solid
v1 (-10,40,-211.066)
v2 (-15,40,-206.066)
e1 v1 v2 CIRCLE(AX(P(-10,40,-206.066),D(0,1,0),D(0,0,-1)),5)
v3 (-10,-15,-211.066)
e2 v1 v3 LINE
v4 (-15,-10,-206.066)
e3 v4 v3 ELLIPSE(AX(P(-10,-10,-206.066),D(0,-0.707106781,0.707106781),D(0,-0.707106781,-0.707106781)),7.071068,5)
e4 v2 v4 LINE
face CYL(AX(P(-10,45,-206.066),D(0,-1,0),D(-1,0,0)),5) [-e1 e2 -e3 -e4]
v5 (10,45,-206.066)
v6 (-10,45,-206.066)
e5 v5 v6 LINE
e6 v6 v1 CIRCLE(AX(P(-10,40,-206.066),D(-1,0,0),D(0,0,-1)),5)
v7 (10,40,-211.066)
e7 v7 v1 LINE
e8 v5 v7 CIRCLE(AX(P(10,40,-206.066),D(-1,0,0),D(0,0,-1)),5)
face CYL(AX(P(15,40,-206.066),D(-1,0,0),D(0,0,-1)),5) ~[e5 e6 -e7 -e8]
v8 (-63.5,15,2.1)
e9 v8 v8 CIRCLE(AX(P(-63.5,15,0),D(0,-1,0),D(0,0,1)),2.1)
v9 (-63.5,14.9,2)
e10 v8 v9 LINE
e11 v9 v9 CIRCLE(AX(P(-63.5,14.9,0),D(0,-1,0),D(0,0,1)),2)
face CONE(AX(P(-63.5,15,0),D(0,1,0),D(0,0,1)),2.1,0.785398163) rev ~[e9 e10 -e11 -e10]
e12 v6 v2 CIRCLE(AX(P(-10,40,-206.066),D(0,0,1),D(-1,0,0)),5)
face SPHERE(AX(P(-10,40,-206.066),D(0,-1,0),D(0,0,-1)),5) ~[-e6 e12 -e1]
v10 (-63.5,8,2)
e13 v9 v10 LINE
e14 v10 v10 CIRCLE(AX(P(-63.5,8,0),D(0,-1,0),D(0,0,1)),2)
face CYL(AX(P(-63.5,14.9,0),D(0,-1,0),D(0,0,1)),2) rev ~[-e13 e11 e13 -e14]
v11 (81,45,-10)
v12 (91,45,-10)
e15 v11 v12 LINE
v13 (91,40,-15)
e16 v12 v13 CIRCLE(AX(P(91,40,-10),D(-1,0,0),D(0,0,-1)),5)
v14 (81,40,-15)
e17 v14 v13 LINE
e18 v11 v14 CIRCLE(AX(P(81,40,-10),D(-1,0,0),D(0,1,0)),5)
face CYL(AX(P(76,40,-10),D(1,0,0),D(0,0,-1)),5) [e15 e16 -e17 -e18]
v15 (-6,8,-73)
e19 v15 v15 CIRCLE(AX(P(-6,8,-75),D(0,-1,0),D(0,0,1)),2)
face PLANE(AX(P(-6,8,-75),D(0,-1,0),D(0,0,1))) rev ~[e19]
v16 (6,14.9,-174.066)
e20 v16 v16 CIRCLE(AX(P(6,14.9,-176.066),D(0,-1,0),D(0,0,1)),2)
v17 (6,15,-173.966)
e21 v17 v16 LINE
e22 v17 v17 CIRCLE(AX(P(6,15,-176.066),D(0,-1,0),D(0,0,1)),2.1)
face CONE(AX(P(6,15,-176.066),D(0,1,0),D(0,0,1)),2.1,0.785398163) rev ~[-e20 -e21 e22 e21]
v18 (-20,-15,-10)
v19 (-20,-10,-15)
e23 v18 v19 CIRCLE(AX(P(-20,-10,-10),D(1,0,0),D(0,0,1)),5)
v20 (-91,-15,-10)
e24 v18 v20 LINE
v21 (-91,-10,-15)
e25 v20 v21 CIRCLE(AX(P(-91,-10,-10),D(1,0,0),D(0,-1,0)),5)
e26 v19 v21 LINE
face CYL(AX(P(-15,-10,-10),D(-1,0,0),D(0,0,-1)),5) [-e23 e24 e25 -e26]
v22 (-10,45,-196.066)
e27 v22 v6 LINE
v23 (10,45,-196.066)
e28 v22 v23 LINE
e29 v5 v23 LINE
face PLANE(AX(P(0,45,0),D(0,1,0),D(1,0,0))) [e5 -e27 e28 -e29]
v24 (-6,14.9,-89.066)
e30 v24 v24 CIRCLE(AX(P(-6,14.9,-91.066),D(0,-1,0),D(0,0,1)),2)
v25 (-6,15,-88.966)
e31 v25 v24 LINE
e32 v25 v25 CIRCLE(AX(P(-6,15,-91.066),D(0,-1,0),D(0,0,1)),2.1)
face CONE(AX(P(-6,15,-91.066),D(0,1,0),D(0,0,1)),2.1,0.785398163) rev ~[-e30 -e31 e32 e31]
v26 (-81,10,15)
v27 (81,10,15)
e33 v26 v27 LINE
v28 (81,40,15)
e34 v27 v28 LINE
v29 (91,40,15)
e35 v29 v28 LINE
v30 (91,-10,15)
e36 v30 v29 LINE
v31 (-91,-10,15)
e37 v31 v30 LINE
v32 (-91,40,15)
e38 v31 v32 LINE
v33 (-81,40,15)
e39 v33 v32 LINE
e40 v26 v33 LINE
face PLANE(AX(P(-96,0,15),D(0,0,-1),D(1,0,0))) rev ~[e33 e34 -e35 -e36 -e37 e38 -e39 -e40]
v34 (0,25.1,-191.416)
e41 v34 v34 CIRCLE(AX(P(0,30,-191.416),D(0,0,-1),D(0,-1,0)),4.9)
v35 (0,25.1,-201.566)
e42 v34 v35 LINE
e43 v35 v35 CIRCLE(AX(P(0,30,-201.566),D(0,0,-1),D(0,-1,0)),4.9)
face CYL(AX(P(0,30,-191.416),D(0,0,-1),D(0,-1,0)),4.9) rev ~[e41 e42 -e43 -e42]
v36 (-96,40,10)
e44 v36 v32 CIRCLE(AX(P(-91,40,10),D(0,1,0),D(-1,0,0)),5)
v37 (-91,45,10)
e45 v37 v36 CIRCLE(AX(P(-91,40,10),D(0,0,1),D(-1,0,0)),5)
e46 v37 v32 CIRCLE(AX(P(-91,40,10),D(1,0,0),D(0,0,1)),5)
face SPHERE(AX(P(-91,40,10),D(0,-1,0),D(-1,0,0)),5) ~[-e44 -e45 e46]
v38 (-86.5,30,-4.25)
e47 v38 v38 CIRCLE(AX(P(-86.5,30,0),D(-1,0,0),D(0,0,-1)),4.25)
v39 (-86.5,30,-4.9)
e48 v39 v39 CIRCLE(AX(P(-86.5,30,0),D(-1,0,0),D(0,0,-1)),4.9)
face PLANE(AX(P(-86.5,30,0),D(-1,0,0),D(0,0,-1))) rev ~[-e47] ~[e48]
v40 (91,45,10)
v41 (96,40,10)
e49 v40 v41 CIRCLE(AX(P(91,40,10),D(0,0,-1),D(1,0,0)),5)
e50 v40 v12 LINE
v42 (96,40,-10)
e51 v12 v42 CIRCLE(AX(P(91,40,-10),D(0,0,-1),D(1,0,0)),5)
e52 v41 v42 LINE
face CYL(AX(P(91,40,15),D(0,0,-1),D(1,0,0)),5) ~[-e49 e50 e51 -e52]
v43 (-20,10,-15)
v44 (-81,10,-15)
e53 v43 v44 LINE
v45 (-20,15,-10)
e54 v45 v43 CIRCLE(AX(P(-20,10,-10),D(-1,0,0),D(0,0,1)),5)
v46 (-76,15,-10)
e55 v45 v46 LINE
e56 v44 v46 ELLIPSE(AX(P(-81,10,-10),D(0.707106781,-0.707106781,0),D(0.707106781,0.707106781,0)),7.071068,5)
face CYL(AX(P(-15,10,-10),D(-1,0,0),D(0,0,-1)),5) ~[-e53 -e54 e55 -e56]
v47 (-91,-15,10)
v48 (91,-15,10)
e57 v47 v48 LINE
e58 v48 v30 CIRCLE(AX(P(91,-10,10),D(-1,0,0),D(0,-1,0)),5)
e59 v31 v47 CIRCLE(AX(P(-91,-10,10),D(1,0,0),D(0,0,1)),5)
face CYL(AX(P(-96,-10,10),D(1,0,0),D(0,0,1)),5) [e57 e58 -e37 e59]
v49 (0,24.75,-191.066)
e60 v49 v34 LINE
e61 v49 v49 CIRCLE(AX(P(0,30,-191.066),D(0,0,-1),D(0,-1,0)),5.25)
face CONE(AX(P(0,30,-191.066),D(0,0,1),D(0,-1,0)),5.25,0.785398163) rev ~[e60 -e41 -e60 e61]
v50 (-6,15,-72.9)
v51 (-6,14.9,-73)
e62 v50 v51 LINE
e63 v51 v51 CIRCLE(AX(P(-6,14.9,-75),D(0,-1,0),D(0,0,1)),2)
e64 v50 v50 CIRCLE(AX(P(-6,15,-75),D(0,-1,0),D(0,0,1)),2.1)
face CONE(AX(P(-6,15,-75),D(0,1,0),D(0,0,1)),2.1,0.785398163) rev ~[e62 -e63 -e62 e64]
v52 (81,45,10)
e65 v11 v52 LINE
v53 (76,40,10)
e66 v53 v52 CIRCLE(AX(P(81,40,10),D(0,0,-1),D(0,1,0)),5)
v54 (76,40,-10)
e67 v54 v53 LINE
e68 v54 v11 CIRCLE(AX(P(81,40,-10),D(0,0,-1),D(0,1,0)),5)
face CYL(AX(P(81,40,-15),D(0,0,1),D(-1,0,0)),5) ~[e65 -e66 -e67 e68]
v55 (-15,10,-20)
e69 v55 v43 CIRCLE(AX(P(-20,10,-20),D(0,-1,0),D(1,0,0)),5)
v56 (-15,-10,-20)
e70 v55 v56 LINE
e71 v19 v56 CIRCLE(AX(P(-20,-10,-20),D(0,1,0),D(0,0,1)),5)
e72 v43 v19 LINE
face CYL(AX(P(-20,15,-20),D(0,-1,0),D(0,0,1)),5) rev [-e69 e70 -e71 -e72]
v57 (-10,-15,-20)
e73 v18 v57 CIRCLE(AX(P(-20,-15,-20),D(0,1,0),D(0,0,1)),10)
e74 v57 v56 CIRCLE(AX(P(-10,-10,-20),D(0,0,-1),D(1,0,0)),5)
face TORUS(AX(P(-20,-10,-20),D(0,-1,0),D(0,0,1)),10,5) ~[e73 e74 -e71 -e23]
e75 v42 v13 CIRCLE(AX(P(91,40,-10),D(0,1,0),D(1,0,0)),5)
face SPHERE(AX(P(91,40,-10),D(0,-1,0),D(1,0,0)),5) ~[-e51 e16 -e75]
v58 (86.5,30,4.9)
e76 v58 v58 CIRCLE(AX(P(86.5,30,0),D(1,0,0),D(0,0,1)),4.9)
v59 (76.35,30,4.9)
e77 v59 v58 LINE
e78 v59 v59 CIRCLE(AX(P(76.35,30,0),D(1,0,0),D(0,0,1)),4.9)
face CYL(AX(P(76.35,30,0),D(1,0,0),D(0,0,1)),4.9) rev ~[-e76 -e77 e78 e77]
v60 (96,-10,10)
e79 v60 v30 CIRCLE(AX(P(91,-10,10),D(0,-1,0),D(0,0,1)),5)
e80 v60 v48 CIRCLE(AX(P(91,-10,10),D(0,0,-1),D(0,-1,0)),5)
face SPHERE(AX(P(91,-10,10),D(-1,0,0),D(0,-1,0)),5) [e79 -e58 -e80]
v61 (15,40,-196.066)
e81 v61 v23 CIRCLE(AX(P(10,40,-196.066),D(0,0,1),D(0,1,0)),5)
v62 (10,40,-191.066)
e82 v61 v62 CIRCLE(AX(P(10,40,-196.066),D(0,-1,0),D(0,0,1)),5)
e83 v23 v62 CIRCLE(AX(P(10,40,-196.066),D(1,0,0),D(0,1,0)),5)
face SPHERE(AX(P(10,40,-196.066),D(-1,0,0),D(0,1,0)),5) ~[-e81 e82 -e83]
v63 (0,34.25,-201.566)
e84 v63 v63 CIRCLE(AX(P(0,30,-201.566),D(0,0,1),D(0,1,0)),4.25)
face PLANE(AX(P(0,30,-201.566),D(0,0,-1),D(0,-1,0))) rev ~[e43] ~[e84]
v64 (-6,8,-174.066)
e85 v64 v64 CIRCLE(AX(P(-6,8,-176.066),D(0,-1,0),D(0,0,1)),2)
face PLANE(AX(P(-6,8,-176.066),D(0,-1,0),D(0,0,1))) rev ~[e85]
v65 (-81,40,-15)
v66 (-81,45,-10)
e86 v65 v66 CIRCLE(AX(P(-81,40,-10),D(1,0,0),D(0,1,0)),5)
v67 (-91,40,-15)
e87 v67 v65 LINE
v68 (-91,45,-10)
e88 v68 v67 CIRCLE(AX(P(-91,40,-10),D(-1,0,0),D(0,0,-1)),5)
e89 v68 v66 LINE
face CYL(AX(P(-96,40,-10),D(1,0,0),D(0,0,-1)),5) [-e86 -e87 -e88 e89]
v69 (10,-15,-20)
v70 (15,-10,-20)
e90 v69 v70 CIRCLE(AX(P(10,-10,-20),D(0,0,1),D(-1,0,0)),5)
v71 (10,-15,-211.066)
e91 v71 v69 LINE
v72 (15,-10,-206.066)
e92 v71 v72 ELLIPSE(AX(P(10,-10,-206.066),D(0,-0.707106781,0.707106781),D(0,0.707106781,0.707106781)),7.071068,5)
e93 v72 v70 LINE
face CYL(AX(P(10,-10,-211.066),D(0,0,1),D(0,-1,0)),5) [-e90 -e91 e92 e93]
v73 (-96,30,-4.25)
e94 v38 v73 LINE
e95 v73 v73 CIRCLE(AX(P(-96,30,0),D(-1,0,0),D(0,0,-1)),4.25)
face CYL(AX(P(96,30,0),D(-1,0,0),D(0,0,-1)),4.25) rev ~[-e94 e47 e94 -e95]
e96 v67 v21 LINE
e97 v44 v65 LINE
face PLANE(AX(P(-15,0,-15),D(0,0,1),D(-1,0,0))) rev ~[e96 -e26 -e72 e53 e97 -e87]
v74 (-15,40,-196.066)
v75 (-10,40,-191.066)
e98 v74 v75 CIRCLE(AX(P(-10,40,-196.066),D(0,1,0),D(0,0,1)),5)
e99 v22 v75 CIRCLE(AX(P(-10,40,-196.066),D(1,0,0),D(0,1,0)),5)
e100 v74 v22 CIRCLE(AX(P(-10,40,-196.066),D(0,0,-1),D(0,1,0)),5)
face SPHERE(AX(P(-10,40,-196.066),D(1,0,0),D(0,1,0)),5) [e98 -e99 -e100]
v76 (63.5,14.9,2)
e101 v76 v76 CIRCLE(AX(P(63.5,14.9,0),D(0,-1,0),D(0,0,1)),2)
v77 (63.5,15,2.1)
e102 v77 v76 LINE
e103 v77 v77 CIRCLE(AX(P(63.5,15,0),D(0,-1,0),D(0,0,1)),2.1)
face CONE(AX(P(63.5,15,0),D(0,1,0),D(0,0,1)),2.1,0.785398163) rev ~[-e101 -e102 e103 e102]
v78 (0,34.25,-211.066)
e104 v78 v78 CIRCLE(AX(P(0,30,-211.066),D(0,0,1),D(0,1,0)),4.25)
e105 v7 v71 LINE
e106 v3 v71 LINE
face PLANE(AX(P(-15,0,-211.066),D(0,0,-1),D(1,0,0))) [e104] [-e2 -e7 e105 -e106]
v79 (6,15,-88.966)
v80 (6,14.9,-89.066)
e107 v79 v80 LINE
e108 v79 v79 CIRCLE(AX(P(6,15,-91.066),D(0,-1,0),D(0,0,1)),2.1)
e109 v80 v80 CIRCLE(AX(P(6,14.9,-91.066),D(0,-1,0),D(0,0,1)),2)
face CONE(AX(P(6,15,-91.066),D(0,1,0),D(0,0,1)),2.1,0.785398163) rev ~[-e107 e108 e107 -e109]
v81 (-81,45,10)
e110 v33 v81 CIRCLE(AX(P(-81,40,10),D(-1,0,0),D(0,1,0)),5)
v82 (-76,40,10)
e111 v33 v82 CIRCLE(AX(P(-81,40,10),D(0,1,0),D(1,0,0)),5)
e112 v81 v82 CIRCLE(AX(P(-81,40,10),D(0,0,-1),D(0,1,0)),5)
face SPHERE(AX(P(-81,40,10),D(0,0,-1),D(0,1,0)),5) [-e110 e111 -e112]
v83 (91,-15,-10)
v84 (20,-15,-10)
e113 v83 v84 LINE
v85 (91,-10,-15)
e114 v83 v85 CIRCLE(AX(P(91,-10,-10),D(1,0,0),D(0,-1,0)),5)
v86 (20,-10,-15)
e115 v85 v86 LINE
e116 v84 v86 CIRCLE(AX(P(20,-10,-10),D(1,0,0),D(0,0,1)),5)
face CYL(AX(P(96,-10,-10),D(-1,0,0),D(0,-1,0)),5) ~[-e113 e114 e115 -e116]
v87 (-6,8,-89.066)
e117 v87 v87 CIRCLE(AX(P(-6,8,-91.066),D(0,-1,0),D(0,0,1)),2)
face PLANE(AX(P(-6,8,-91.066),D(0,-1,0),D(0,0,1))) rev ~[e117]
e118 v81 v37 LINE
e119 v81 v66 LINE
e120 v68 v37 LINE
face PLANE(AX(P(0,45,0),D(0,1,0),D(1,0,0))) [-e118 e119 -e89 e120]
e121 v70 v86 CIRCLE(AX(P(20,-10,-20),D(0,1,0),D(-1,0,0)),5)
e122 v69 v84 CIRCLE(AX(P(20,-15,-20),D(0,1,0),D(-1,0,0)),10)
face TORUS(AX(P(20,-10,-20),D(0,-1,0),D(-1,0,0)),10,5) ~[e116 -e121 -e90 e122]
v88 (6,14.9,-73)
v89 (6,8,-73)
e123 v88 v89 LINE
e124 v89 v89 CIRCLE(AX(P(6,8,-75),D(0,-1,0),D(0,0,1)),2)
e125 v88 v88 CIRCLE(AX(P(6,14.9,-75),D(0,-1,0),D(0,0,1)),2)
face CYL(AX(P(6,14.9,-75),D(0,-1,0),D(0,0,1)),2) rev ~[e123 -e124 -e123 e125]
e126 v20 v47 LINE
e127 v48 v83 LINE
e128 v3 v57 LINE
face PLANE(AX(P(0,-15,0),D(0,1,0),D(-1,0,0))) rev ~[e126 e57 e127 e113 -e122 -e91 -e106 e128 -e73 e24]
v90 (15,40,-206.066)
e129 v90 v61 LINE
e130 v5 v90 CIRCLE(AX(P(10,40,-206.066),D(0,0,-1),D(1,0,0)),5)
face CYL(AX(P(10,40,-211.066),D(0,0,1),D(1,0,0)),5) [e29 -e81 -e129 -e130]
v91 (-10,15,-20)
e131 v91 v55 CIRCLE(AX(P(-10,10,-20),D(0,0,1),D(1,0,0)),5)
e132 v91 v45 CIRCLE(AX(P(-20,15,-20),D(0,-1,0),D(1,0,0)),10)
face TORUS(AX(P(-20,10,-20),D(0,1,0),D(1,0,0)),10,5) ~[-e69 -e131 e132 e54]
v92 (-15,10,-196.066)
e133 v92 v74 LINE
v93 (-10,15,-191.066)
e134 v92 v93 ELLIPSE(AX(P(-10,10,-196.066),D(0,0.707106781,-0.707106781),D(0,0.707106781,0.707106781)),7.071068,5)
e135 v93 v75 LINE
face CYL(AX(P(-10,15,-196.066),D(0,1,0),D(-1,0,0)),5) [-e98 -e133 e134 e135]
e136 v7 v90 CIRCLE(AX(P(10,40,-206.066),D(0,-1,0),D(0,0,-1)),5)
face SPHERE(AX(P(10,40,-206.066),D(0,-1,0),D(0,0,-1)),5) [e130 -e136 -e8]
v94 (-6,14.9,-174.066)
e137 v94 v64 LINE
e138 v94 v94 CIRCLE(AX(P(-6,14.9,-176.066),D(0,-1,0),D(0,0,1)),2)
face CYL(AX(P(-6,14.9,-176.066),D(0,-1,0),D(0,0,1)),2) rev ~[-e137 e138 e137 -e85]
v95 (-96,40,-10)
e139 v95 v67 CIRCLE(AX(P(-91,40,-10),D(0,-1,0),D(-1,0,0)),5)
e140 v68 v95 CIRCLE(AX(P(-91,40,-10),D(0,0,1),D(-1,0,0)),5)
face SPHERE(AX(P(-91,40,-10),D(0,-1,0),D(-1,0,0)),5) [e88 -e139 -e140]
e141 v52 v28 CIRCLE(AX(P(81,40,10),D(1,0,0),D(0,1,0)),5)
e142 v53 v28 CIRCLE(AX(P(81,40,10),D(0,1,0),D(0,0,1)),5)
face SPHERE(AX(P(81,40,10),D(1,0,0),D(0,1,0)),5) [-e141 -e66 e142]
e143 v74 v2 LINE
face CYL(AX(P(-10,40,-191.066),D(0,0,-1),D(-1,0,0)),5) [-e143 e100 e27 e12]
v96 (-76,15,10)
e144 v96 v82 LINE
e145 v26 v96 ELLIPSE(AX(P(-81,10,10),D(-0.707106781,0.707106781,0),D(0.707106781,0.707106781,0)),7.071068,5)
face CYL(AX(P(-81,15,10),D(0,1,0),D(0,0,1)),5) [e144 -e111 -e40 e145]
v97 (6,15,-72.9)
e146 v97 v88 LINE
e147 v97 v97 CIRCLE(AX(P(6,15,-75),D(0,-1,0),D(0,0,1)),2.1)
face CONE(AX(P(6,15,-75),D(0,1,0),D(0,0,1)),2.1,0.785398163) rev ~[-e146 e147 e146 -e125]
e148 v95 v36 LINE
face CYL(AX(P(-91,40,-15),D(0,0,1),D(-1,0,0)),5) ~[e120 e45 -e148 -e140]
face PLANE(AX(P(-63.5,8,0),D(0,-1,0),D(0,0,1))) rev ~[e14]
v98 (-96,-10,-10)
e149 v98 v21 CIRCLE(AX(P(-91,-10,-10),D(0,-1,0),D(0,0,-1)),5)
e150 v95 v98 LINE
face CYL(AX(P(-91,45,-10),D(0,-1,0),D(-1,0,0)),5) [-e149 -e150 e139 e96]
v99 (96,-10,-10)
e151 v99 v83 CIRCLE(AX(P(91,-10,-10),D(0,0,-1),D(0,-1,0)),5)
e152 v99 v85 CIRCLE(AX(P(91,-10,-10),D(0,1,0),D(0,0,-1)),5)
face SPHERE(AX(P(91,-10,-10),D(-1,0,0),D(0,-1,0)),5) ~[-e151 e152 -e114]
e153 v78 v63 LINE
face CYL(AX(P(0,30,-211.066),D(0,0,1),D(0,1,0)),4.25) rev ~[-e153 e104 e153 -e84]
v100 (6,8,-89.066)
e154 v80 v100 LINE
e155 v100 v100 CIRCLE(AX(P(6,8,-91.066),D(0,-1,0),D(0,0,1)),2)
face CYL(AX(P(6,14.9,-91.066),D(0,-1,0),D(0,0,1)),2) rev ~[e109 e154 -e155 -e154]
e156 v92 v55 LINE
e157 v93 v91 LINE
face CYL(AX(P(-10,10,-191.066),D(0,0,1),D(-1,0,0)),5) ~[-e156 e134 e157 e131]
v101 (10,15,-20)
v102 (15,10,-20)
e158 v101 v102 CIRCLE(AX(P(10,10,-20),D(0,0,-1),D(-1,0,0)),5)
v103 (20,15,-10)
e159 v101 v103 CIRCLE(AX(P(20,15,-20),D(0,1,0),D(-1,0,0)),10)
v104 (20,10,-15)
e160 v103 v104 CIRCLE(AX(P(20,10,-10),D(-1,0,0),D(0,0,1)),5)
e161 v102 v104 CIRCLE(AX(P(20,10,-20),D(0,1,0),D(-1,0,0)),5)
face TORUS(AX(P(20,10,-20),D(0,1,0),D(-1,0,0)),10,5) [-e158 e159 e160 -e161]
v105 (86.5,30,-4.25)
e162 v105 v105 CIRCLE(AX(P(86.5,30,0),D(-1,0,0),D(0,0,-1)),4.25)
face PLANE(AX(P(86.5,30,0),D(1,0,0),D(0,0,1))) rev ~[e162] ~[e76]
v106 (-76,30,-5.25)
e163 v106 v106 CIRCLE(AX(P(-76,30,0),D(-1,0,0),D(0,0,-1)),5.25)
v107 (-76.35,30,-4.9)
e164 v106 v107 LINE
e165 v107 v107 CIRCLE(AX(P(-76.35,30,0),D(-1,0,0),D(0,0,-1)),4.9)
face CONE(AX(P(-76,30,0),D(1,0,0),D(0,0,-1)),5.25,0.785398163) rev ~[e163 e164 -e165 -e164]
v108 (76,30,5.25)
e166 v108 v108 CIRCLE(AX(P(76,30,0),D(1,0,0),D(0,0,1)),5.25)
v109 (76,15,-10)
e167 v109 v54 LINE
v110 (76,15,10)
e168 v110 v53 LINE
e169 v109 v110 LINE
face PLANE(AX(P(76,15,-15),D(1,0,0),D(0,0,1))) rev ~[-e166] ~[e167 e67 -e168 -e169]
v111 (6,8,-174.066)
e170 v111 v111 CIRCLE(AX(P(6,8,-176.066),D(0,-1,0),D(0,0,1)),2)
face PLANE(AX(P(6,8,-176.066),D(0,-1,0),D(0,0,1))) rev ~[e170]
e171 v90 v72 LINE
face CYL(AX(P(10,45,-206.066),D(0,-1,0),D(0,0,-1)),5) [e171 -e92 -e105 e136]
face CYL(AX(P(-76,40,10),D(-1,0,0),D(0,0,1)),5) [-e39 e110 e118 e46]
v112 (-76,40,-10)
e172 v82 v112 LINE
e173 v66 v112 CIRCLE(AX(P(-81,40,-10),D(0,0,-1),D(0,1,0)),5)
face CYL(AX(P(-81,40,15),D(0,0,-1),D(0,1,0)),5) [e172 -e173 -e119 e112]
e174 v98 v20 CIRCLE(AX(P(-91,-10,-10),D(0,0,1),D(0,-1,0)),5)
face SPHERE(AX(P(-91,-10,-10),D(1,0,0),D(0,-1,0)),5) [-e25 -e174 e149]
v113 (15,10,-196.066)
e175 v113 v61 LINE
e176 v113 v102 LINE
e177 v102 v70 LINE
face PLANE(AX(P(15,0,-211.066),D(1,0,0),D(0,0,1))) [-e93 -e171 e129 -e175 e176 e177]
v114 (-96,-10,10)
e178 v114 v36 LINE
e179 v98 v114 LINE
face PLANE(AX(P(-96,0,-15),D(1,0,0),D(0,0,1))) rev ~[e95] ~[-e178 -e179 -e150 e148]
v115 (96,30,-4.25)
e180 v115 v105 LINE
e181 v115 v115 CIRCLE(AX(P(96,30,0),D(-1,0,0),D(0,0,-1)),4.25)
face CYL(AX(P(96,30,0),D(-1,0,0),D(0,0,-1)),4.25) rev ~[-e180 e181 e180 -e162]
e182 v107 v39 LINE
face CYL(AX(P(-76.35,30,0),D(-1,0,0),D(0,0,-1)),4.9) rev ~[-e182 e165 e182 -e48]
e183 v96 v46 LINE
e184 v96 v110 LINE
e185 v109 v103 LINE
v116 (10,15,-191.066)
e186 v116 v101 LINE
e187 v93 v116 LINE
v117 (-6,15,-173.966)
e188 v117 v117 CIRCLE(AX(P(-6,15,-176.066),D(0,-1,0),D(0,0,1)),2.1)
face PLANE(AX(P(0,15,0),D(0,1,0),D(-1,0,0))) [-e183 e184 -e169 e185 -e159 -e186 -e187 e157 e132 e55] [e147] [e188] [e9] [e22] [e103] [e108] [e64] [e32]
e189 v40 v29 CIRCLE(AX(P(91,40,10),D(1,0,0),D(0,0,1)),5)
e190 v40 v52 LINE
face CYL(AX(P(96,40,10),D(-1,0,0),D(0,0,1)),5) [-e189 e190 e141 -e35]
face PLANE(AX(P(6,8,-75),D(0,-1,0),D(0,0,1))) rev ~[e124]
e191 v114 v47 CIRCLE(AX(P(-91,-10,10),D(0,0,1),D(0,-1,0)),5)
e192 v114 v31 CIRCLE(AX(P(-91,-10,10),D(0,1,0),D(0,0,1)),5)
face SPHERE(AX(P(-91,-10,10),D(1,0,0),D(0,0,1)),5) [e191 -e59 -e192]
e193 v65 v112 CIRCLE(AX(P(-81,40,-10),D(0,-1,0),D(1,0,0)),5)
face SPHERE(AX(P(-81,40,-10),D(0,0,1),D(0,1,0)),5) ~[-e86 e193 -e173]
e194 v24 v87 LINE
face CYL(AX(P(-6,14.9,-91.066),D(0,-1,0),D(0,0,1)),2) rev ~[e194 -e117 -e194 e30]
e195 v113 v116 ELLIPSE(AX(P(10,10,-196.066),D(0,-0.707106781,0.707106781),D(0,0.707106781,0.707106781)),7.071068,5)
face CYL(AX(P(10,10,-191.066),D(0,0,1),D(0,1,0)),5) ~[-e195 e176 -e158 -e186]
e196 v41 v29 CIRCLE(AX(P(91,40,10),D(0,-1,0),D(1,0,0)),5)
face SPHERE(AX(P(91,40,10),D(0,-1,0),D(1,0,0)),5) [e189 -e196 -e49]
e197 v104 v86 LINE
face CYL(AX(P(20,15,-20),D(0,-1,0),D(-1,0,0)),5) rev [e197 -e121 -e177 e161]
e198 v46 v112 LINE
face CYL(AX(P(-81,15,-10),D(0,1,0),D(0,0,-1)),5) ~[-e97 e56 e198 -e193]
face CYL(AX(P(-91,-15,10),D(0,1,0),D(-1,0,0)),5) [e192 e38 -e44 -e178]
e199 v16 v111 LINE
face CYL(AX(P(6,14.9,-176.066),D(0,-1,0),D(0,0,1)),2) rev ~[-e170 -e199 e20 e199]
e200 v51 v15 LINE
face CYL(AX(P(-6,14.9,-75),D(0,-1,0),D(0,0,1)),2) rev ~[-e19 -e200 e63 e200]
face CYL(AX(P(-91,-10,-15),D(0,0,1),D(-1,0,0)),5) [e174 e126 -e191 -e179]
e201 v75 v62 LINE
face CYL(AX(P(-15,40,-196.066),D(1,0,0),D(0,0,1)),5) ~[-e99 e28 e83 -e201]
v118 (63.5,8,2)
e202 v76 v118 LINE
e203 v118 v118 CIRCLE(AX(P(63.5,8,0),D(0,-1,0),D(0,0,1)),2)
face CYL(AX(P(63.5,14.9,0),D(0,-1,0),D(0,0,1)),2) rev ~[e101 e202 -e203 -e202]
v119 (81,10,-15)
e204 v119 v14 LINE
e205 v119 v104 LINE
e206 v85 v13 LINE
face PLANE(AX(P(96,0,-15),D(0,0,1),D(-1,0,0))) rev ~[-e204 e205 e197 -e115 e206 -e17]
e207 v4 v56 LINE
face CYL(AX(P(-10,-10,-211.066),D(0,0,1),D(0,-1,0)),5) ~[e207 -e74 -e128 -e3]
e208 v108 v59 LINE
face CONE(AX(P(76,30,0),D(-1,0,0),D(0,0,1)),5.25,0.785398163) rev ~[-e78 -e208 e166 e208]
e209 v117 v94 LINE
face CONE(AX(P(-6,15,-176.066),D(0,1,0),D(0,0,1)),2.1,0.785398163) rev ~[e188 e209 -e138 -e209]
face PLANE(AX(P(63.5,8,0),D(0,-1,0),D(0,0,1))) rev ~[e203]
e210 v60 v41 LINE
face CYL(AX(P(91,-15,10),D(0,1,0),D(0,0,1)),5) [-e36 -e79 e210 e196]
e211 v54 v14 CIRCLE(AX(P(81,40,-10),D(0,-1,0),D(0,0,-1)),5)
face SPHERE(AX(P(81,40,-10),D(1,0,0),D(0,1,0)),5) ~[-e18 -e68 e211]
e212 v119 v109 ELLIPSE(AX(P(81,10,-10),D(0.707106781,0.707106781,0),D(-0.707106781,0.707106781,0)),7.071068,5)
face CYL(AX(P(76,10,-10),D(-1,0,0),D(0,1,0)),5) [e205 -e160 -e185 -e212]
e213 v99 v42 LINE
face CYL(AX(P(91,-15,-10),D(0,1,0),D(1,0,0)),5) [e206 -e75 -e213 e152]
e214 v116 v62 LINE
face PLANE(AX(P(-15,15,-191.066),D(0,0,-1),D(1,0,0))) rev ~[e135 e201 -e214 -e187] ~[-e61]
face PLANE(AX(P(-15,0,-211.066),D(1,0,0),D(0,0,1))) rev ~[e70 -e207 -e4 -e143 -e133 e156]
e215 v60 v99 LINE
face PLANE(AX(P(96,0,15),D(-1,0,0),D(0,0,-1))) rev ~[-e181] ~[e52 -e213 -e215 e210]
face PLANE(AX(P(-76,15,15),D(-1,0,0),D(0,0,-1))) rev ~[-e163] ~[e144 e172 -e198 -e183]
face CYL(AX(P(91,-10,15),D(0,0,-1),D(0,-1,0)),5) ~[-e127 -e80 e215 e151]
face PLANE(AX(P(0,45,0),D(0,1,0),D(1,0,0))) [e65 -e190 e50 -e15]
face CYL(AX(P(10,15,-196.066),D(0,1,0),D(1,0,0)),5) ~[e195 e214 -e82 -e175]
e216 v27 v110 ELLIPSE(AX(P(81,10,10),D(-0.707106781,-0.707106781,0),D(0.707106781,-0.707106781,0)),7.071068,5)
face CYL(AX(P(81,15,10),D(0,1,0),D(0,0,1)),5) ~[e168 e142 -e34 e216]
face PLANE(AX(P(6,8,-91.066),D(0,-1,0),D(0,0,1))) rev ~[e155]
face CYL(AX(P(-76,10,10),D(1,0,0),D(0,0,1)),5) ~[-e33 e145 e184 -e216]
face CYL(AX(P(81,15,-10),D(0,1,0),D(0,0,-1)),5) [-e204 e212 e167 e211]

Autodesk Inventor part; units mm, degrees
ref_plane "YZ Plane" through (0, 0, 0) normal (1, 0, 0) x (0, 1, 0)
ref_plane "XZ Plane" through (0, 0, 0) normal (0, 1, 0) x (-1, 0, 0)
ref_plane "XY Plane" through (0, 0, 0) normal (0, 0, 1) x (1, 0, 0)
sketch "Sketch1" plane through (0, 0, 0) normal (0, 1, 0) x (-1, 0, 0)
  line L0 (96, 15) -> (-96, 15)
  line L1 (-96, 15) -> (-96, -15)
  line L2 (96, -15) -> (96, 15)
  line L3 (96, 15) -> (-96, -15) construction
  line L4 (-96, 15) -> (96, -15) construction
  line L5 (0, 0) -> (0, -223) construction
  line L6 (15, -211.066) -> (15, -15)
  line L7 (-96, -15) -> (-15, -15)
  line L8 (15, -15) -> (96, -15)
  line L9 (-15, -211.066) -> (-15, -15)
  line L10 (15, -211.066) -> (-15, -211.066)
  dimension "d0" = 192
  dimension "d1" = 30
  dimension "d2" = 196.066
  dimension "d3" = 15
extrude "Extrusion1" add sketch "Sketch1" along normal mid plane 30
sketch "Sketch2" plane through (0, 15, 0) normal (0, 1, 0) x (1, 0, 0)
  line L0 (15, 15) -> (96, 15) projected
  line L1 (96, -15) -> (-96, -15) projected
  line L2 (96, 15) -> (76, 15)
  line L3 (76, 15) -> (76, -15)
  line L4 (76, -15) -> (96, -15)
  line L5 (96, -15) -> (96, 15)
  line L6 (15, 211.066) -> (15, 15) projected
  line L7 (-15, 15) -> (-15, 211.066) projected
  line L8 (15, 211.066) -> (-15, 211.066)
  line L9 (-15, 211.066) -> (-15, 191.066)
  line L10 (-15, 191.066) -> (15, 191.066)
  line L11 (15, 191.066) -> (15, 211.066)
  line L12 (-96, 15) -> (-15, 15) projected
  line L13 (-96, -15) -> (-76, -15)
  line L14 (-76, -15) -> (-76, 15)
  line L15 (-76, 15) -> (-96, 15)
  line L16 (-96, 15) -> (-96, -15)
  point P0 (0, 0)
  point P1 (-15, 211.066)
  point P2 (15, 191.066)
  point P3 (76, 15)
  point P4 (-76, -15)
  dimension "d6" = 20
  dimension "d7" = 20
  dimension "d8" = 20
extrude "Extrusion2" add sketch "Sketch2" along normal blind 30 contours L0 L5 L1 L3 | L10 L7 L8 L6 | L1 L16 L12 L14
fillet "Fillet1" radius 5 38 edges at (15, 0, -15) (-15, 0, -15) (15, -15, -113.033) (55.5, -15, -15) (-55.5, -15, -15) (0, -15, 15) (96, -15, 0) (96, 15, -15) (96, 15, 15) (96, 45, 0) (-96, 15, 15) (-96, -15, 0) (-96, 15, -15) (-96, 45, 0) (-15, 15, -211.066) (15, 15, -211.066) (0, 45, -211.066) (0, 45, -191.066) (0, 15, 15) (-76, 45, 0) (-86, 45, 15) (-86, 45, -15) (86, 45, -15) (86, 45, 15) (76, 45, 0) (15, 45, -201.066) (-15, 45, -201.066) (76, 30, 15) (76, 30, -15) (-76, 30, 15) (-76, 30, -15) (15, 30, -191.066) (-15, 30, -191.066) (-15, -15, -113.033) (-15, 15, -103.033) (15, 15, -103.033) (45.5, 15, -15) (-45.5, 15, -15)
sketch "Sketch3" plane through (0, 15, 0) normal (0, 1, 0) x (1, 0, 0)
  line L0 (-76, 10) -> (-76, -10) projected
  line L1 (-81, -15) -> (81, -15) projected
  line L2 (76, -10) -> (76, 10) projected
  line L3 (-15, 196.066) -> (-15, 20) projected
  line L4 (-10, 191.066) -> (10, 191.066) projected
  line L5 (10, 191.066) -> (-10, 191.066) projected
  line L6 (15, 20) -> (15, 196.066) projected
  point P0 (0, 0)
  point P1 (-63.5, 0)
  point P2 (63.5, 0)
  point P3 (6, 176.066)
  point P4 (-6, 176.066)
  point P5 (6, 91.066)
  point P6 (-6, 91.066)
  point P7 (-6, 75)
  point P8 (6, 75)
  dimension "d19" = 12.5
  dimension "d20" = 15
  dimension "d21" = 15
  dimension "d22" = 12.5
  dimension "d23" = 90
  dimension "d24" = 90
  dimension "d25" = 9
  dimension "d26" = 100
  dimension "d27" = 9
  dimension "d28" = 100
  dimension "d29" = 9
  dimension "d30" = 9
  dimension "d58" = 15
  dimension "d59" = 15
  dimension "d60" = 9
  dimension "d61" = 9
hole "Hole1" at (-63.5, 15, 0) at (63.5, 15, 0) at (-6, 15, -91.066) at (6, 15, -91.066) at (6, 15, -75) at (-6, 15, -75) at (6, 15, -176.066) at (-6, 15, -176.066) direction (0, -1, 0) diameter 4 depth 7 countersink diameter 4.2 countersink angle 90
sketch "Sketch7" plane through (76, 15, -10) normal (-1, 0, 0) x (0, 0, 1)
  line L0 (-5, 25) -> (-5, -5) projected
  line L1 (20, 30) -> (0, 30) projected
  point P0 (10, -15)
  point P1 (10, 15)
  dimension "d83" = 15
  dimension "d84" = 15
hole "Hole5" at (76, 30, 0) direction (1, 0, 0) diameter 9.8 depth 10.5 countersink diameter 10.5 countersink angle 90
sketch "Sketch8" plane through (-76, 15, 10) normal (1, 0, 0) x (0, 0, -1)
  line L0 (20, 30) -> (0, 30) projected
  line L1 (25, -5) -> (25, 25) projected
  point P0 (10, -15)
  point P1 (10, 15)
  dimension "d85" = 15
  dimension "d86" = 15
hole "Hole6" at (-76, 30, 0) direction (-1, 0, 0) diameter 9.8 depth 10.5 countersink diameter 10.5 countersink angle 90
sketch "Sketch9" plane through (-10, 15, -191.066) normal (0, 0, 1) x (1, 0, 0)
  line L0 (-5, 25) -> (-5, -5) projected
  line L1 (20, 30) -> (0, 30) projected
  point P0 (10, -15)
  point P1 (10, 15)
  dimension "d87" = 15
  dimension "d88" = 15
hole "Hole7" at (0, 30, -191.066) direction (0, 0, -1) diameter 9.8 depth 10.5 countersink diameter 10.5 countersink angle 90
sketch "Sketch10" plane through (96, -10, -10) normal (1, 0, 0) x (0, 0, -1)
  line L0 (0, 55) -> (-20, 55) projected
  line L1 (5, 0) -> (5, 50) projected
  point P0 (-10, 10)
  point P1 (-10, 40)
  dimension "d89" = 15
  dimension "d90" = 15
hole "Hole8" at (96, 30, 0) direction (-1, 0, 0) diameter 8.5 end through all
sketch "Sketch11" plane through (10, 40, -211.066) normal (0, 0, -1) x (-1, 0, 0)
  line L0 (20, 5) -> (0, 5) projected
  line L1 (25, -50) -> (25, 0) projected
  point P0 (10, -40)
  point P1 (10, -10)
  dimension "d98" = 15
  dimension "d99" = 15
hole "Hole9" at (0, 30, -211.066) direction (0, 0, 1) diameter 8.5 end through all
properties part number "Tcalev2"
